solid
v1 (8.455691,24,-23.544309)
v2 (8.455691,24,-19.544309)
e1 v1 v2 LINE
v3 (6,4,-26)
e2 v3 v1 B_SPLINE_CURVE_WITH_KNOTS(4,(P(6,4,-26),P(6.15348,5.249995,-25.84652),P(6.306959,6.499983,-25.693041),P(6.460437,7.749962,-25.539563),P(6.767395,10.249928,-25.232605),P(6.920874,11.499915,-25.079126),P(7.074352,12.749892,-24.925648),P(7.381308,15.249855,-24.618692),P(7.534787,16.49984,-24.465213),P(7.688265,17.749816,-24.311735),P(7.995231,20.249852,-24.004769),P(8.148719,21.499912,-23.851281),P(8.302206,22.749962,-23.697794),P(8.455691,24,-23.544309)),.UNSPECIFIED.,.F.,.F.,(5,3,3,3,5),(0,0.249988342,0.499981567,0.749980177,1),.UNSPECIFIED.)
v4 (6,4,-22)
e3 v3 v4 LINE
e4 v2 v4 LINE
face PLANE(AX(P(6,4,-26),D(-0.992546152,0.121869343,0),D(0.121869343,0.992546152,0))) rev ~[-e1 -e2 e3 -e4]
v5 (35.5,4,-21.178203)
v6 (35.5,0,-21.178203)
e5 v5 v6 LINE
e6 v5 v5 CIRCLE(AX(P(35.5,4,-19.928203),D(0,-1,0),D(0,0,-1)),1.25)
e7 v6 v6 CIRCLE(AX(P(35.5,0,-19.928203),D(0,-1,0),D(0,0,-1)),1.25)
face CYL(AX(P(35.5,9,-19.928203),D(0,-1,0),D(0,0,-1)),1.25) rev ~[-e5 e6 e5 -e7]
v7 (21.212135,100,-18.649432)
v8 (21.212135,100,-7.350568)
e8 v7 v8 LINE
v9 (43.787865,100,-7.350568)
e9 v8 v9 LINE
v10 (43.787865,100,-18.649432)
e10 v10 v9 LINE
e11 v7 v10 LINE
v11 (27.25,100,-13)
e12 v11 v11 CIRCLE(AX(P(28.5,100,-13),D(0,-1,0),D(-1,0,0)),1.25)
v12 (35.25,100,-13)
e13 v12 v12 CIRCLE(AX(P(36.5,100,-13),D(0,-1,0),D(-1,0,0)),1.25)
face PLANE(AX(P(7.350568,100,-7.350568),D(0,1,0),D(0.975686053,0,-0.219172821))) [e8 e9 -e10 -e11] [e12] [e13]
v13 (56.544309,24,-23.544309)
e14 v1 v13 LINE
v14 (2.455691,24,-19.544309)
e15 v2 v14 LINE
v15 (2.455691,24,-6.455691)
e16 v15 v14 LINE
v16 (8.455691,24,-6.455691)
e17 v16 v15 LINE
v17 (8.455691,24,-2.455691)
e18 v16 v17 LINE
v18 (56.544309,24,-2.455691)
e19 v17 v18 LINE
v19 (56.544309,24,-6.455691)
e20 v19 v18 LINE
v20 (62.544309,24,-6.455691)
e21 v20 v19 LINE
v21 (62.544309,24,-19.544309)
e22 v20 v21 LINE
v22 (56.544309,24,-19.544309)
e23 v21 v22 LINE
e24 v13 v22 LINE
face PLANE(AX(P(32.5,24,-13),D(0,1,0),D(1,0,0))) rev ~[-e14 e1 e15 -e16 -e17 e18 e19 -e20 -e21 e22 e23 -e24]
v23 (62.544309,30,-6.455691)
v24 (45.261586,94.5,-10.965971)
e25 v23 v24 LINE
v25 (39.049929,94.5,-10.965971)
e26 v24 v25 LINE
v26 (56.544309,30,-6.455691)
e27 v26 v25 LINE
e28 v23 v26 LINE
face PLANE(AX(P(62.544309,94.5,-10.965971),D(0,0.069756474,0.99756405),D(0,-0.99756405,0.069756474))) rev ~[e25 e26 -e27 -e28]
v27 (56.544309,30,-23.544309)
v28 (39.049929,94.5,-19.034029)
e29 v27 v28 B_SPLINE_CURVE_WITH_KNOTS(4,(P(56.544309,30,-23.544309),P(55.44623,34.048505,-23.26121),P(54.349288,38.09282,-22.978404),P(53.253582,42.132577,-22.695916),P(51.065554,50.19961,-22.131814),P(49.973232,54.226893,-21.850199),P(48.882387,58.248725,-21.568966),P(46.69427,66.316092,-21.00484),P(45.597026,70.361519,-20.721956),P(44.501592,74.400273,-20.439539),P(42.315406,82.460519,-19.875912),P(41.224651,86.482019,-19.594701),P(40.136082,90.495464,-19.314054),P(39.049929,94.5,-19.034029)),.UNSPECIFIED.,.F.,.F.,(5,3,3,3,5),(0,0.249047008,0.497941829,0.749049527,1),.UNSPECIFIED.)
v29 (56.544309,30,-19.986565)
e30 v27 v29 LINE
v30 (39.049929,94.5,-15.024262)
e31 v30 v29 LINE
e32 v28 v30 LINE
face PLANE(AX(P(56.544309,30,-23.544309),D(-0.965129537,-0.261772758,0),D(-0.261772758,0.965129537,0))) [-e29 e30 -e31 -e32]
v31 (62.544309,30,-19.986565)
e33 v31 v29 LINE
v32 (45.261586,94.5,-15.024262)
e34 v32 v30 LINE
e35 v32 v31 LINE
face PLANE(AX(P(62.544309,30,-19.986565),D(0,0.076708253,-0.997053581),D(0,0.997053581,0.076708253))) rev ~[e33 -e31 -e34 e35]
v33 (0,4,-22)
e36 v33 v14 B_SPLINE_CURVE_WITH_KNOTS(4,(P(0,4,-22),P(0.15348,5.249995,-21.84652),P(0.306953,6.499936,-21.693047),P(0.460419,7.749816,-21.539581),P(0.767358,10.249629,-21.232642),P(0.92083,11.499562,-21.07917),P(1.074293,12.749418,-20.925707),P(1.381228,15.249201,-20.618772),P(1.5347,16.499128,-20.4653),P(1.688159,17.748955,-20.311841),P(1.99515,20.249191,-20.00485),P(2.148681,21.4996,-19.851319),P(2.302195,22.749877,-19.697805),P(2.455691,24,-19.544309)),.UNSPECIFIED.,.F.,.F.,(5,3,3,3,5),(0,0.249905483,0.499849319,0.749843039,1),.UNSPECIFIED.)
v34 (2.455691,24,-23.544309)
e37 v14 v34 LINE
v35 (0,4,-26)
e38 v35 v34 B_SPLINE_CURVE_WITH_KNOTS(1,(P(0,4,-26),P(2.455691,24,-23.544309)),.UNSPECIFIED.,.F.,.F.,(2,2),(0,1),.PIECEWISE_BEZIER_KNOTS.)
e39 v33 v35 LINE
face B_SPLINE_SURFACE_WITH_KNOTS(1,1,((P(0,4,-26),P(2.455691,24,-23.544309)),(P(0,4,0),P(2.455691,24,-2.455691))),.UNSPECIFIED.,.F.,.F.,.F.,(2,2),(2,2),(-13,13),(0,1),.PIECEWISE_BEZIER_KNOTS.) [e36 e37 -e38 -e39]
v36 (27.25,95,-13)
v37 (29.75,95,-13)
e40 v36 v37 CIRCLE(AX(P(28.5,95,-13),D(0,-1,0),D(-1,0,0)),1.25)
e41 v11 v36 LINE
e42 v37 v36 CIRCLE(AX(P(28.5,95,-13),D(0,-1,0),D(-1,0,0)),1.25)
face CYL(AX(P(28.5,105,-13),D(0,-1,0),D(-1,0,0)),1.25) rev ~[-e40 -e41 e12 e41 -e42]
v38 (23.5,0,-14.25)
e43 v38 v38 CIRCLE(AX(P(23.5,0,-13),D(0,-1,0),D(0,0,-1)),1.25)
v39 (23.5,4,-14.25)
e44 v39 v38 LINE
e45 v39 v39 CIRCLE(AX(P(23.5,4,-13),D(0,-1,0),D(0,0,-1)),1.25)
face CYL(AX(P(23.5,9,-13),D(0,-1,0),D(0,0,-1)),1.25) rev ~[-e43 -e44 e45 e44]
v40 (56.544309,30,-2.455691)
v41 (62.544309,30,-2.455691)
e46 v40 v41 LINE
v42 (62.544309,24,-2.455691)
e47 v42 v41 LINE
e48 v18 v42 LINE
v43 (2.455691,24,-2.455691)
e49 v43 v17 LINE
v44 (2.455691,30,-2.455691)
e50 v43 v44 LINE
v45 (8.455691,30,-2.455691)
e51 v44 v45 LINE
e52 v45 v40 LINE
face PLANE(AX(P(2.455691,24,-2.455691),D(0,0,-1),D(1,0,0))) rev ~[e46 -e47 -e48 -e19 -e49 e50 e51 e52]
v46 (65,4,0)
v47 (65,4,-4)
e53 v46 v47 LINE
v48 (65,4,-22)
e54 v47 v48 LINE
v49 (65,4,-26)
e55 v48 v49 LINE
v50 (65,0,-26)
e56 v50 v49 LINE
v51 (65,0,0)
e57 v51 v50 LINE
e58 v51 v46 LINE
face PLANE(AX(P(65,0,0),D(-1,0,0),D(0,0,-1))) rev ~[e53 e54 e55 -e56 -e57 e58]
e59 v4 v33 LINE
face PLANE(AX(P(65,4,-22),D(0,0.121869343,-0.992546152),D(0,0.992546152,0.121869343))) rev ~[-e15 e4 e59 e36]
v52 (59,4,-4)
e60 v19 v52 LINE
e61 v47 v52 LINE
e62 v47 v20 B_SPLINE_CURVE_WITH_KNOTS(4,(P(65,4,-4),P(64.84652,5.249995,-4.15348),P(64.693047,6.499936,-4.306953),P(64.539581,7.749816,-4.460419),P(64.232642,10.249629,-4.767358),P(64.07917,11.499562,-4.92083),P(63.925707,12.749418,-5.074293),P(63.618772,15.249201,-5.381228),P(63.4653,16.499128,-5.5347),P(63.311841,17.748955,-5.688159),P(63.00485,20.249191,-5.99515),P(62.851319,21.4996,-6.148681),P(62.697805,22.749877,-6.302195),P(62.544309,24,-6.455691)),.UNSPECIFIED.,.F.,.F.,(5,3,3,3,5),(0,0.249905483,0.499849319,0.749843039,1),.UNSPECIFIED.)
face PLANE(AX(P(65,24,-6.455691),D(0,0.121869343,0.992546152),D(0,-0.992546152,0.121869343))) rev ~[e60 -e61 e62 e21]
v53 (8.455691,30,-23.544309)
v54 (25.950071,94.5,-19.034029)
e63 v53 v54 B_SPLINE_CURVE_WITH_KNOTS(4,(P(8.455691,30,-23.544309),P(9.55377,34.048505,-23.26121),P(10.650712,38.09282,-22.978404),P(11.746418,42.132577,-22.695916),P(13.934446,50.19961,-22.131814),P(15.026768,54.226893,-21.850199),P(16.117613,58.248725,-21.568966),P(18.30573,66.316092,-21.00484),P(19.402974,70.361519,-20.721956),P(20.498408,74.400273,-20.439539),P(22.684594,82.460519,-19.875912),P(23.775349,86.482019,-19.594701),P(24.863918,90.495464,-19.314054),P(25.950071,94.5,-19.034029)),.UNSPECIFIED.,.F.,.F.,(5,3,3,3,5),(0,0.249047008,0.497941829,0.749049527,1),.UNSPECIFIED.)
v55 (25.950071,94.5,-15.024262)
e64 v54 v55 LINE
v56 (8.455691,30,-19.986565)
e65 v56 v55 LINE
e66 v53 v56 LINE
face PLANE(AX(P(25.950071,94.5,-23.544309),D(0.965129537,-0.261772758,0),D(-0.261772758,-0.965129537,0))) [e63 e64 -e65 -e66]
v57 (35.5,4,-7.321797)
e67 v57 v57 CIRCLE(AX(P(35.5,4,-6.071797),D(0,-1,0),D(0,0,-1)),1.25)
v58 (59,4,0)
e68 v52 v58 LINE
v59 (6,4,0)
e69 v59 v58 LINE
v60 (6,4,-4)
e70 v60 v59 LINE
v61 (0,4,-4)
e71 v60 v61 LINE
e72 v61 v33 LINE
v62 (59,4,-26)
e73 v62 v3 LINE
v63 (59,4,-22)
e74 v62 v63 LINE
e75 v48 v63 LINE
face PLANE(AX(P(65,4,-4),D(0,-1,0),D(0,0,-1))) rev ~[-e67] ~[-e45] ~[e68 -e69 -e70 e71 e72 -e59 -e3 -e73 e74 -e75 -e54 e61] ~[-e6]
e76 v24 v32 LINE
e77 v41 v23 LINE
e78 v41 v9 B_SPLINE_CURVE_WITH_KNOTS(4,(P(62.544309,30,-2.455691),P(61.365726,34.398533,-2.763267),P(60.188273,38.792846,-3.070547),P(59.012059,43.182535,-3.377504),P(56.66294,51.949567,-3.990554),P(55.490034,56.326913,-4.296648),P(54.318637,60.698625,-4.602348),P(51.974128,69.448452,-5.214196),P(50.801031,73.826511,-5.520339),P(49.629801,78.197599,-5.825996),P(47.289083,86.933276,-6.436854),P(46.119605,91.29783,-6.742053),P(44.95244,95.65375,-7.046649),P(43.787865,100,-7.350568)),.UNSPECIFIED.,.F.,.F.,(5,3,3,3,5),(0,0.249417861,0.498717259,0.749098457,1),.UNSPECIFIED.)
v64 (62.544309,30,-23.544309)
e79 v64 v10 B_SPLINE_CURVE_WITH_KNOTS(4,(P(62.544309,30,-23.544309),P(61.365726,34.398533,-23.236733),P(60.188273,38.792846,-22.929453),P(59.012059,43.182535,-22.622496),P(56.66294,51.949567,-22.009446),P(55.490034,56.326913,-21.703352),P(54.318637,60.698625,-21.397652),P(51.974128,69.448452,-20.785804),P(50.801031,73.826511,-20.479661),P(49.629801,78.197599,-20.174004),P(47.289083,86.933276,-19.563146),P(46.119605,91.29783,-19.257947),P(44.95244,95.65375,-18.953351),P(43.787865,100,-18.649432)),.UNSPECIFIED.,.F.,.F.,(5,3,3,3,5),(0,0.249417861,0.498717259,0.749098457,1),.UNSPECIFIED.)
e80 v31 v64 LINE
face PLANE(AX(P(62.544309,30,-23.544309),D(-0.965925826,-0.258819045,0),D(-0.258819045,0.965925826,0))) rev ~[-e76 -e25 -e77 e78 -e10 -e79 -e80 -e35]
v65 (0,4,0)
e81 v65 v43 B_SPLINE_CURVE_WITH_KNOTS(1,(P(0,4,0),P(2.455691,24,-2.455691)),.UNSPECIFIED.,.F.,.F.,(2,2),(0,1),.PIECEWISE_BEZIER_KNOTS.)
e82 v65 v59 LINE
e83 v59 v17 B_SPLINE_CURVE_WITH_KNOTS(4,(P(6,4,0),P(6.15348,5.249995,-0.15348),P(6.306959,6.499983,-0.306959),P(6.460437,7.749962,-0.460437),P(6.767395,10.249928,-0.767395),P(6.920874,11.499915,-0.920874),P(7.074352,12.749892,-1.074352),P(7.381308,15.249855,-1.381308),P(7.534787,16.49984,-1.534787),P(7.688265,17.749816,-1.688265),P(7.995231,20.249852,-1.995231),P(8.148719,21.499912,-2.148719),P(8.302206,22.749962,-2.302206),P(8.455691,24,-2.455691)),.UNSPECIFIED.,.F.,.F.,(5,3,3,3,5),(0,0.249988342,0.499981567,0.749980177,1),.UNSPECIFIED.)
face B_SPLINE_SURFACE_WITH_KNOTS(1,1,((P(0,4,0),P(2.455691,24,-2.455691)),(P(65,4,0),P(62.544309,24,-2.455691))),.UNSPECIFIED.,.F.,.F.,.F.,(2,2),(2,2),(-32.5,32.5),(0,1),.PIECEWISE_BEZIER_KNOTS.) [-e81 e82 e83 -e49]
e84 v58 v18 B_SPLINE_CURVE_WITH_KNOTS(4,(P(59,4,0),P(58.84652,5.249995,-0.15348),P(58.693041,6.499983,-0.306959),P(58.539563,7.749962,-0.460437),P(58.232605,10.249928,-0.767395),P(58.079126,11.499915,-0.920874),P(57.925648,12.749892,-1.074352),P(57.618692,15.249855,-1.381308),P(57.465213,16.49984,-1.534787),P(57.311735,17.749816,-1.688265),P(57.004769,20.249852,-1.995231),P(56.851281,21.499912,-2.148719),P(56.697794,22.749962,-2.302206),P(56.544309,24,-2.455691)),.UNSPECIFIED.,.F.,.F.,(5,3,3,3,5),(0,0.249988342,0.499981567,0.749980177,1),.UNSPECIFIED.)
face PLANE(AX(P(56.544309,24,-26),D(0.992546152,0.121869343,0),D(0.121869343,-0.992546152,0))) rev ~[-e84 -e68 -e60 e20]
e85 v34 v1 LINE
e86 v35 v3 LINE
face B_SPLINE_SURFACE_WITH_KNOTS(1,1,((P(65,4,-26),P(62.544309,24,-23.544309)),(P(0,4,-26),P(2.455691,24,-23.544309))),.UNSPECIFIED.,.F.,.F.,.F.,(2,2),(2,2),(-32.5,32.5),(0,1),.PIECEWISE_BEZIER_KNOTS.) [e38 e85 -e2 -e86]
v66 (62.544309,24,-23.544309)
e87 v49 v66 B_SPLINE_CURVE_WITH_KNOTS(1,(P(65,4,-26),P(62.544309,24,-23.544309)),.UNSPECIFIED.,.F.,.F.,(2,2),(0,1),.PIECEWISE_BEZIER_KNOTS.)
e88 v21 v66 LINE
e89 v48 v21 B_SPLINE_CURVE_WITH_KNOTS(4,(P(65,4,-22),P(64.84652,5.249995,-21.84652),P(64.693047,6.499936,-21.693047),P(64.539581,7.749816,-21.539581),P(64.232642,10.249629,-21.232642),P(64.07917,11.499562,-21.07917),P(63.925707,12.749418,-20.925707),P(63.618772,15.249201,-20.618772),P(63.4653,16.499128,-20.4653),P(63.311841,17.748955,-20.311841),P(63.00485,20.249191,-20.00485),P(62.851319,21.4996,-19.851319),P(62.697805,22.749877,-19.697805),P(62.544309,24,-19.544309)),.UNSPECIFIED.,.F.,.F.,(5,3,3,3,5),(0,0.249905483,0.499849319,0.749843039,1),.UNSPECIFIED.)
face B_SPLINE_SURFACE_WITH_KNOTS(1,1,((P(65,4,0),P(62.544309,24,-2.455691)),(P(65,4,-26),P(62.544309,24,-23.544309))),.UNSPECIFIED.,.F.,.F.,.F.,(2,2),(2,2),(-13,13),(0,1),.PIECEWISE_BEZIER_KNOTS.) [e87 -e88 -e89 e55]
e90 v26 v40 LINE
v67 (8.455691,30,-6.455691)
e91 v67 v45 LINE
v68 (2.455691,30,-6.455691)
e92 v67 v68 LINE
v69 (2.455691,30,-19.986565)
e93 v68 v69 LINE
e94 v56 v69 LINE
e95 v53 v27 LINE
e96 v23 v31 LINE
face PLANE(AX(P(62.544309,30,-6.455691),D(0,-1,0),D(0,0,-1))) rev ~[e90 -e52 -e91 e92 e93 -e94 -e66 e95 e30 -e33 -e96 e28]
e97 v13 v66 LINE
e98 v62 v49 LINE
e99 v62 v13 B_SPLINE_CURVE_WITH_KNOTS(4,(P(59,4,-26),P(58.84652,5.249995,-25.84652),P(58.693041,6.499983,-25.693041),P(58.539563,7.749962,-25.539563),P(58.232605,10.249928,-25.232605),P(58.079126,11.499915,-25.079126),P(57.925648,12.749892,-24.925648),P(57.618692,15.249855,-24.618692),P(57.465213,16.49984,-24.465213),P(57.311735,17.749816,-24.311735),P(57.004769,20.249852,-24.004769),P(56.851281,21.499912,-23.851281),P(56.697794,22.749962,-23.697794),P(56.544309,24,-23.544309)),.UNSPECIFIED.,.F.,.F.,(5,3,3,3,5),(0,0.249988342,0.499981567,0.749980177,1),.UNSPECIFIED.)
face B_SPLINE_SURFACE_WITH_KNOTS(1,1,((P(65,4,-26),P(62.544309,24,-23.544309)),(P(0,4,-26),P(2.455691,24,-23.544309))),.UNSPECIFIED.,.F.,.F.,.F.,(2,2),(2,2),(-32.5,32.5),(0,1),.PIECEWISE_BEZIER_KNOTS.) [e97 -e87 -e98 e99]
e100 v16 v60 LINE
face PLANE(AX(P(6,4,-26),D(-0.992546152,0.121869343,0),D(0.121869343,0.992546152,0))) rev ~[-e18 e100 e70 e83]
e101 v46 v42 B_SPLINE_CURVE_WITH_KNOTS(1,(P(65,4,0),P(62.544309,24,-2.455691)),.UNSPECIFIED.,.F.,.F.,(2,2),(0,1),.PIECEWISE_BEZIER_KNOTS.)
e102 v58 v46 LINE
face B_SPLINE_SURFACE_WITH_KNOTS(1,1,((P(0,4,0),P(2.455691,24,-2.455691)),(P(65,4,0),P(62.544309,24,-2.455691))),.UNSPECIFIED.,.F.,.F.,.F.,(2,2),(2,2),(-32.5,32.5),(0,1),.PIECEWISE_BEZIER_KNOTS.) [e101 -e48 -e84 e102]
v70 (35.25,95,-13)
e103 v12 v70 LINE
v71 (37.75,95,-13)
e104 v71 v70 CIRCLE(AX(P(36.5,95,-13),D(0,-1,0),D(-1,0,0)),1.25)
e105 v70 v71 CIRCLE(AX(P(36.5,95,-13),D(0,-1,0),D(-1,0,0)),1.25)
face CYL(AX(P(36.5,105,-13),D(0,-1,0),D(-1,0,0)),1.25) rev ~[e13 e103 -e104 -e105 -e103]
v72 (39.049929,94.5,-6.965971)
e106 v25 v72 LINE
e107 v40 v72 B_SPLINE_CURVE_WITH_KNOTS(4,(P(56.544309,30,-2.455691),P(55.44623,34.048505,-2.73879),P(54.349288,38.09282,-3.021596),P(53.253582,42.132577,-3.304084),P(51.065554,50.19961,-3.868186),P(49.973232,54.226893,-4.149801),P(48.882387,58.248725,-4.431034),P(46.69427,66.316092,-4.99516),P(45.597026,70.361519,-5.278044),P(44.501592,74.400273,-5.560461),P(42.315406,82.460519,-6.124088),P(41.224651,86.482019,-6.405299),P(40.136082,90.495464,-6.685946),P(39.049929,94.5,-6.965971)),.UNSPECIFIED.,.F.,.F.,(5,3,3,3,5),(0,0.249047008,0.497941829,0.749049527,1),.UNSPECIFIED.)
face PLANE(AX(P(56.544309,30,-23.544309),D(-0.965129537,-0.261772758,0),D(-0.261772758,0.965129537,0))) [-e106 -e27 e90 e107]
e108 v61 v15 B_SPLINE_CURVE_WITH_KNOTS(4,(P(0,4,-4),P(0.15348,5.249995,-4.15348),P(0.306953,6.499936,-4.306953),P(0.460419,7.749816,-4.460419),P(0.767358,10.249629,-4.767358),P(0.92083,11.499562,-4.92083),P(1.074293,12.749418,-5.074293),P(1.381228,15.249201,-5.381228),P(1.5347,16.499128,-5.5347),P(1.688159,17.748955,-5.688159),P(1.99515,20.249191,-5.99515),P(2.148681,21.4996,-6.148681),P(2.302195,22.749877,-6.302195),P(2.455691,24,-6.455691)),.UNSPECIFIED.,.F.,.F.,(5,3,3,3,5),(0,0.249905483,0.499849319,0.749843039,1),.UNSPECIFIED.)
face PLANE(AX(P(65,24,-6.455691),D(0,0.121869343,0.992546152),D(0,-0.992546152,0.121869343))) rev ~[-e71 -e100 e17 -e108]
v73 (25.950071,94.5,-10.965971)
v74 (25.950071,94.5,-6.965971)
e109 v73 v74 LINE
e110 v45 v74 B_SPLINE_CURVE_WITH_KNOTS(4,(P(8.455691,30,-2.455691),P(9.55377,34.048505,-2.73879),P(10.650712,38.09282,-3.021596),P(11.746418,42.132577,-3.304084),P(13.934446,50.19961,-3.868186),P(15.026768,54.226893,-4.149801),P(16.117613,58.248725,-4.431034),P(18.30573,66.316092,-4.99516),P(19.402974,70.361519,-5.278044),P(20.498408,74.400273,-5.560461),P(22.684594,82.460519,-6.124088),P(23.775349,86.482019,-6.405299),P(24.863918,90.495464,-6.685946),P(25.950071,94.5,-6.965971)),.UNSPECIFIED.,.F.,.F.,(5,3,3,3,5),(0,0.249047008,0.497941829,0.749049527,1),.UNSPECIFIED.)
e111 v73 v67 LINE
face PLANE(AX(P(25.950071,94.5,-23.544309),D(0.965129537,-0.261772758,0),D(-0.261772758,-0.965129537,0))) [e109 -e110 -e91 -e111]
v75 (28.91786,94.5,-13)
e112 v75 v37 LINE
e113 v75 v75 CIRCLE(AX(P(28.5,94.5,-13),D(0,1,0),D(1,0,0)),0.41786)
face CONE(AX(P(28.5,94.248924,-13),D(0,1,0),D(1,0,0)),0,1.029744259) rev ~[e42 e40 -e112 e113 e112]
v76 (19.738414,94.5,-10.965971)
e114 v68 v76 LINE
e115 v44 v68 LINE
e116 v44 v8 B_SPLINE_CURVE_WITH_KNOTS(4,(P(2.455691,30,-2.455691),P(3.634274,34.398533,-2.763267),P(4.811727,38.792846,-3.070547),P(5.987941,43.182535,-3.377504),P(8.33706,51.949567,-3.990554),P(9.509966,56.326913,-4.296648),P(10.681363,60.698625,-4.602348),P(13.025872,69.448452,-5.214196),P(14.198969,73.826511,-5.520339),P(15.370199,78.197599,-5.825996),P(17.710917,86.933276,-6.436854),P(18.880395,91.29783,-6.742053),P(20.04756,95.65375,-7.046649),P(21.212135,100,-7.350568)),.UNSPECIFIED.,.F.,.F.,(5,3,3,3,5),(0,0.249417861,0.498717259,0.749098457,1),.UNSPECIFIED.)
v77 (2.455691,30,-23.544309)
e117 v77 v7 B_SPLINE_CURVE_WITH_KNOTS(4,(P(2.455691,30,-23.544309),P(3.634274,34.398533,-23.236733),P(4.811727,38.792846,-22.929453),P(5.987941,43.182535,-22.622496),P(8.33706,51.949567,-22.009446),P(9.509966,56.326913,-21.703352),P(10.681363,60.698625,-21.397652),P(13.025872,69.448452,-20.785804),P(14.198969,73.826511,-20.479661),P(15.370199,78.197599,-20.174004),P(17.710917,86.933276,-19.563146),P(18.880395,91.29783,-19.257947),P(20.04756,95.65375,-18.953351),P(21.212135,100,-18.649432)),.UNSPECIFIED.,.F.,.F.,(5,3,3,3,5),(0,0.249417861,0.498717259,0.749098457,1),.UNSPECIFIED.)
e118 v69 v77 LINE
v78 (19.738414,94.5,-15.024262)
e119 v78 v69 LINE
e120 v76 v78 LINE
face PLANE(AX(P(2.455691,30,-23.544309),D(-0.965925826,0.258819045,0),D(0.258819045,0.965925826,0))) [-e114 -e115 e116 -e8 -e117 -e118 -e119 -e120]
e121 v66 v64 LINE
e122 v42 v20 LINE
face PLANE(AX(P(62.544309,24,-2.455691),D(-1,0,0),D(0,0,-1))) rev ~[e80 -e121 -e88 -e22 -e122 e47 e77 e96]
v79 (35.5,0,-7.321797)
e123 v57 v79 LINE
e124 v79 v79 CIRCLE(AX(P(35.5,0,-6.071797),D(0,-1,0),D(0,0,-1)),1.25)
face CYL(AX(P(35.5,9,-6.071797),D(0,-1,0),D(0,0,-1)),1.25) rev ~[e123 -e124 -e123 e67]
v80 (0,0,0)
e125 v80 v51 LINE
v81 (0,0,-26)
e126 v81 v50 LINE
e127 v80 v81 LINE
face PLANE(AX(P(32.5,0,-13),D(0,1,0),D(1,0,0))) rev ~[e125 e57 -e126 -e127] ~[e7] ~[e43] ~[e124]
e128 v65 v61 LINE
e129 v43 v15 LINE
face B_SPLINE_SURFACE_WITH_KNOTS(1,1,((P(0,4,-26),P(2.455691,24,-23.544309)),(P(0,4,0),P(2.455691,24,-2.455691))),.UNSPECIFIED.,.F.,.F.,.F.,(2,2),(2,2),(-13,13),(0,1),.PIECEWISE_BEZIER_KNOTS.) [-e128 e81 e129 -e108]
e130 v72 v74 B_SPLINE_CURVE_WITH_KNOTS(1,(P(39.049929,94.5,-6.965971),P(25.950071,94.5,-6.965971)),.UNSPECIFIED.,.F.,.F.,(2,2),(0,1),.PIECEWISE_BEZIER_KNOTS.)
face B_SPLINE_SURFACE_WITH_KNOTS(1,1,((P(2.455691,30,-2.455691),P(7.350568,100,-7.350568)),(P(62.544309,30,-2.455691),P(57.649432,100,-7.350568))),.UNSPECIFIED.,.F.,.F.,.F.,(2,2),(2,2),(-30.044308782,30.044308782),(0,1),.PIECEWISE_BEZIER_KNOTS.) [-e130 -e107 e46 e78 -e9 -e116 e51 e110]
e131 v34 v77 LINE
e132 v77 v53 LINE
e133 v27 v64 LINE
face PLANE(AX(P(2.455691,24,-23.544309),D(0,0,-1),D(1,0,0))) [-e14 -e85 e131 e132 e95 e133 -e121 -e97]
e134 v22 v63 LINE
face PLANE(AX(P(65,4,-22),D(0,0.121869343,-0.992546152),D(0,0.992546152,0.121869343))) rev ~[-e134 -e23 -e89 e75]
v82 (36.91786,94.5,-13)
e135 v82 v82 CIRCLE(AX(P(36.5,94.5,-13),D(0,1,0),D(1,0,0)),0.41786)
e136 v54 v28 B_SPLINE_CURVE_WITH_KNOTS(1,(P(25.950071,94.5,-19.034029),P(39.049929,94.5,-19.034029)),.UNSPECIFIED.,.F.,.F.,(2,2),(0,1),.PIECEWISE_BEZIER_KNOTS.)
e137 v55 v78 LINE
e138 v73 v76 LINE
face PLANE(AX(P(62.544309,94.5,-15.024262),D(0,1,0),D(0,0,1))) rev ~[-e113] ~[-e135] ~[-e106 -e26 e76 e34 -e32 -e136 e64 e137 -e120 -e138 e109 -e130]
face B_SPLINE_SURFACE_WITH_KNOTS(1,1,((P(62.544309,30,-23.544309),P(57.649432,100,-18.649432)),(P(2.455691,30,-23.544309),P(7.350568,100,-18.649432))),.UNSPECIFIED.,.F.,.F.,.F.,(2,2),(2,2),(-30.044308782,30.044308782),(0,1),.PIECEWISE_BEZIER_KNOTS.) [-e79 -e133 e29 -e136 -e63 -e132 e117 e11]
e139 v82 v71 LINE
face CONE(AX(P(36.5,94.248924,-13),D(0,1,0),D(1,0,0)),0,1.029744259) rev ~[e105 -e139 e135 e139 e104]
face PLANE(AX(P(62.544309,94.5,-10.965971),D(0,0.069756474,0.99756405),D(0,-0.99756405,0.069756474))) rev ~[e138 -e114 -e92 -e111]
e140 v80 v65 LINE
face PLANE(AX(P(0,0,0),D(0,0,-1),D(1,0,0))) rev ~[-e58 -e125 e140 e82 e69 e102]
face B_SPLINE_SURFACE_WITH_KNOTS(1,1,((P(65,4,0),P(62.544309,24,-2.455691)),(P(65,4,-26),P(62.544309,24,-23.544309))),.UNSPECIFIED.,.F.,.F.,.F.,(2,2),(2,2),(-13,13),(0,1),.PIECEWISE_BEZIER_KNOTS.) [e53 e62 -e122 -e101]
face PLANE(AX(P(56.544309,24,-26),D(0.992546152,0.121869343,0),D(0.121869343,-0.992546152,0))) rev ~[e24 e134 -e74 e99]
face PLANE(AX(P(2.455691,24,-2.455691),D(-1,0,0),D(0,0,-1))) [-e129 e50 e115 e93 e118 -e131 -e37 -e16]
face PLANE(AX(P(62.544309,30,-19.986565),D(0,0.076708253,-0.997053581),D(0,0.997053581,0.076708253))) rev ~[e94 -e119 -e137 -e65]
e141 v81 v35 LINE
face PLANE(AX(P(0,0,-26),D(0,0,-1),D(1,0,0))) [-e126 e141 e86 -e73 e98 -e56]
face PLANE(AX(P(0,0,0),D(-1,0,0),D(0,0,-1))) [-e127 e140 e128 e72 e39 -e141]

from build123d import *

# Parameters (mm, degrees)
SKETCH1_W                 = 65
SKETCH1_H                 = 26
BOSS_EXTRUDE1_DEPTH       = 4
F_2_5MM_DOWEL_HOLE1_D     = 2.5
F_2_5MM_DOWEL_HOLE1_DEPTH = 5
F_2_5MM_DOWEL_HOLE1_TIP   = 0.751075774
SKETCH6_W                 = 65
SKETCH6_H                 = 26
BOSS_EXTRUDE2_DEPTH       = 20
BOSS_EXTRUDE2_TAPER       = 7
SKETCH7_W                 = 48.088617564
SKETCH7_H                 = 13.088617564
CUT_EXTRUDE1_DEPTH        = 20
CUT_EXTRUDE1_DRAFT        = 7
CUT_EXTRUDE3_DEPTH        = 33
CUT_EXTRUDE4_DEPTH        = 70
SKETCH11_W                = 60.088617564
SKETCH11_H                = 21.088617564
BOSS_EXTRUDE3_DEPTH       = 6
SKETCH12_W                = 60.088617564
SKETCH12_H                = 21.088617564
BOSS_EXTRUDE5_DEPTH       = 70
BOSS_EXTRUDE5_TAPER       = 4
CUT_EXTRUDE5_DEPTH        = 55
CUT_EXTRUDE6_DEPTH        = 67
F_2_5MM_DOWEL_HOLE2_D     = 2.5
F_2_5MM_DOWEL_HOLE2_DEPTH = 5
F_2_5MM_DOWEL_HOLE2_TIP   = 0.751075774


with BuildPart() as part:
    # Sketch1 → Boss-Extrude1 (new body)
    with BuildSketch(Plane(origin=(0, 0, 0), x_dir=(1, 0, 0), z_dir=(0, 1, 0))):
        with Locations((32.5, 13)):
            Rectangle(SKETCH1_W, SKETCH1_H)
    extrude(amount=BOSS_EXTRUDE1_DEPTH)

    # Ø2.5mm Dowel Hole1
    with Locations(Plane(origin=(23.5, 4, -13), x_dir=(0, 0, 1), z_dir=(0, 1, 0))):
        with Locations((0, 0), (-6.92820323, 12), (6.92820323, 12)):
            Hole(F_2_5MM_DOWEL_HOLE1_D / 2, depth=F_2_5MM_DOWEL_HOLE1_DEPTH)
            with Locations((0, 0, -(F_2_5MM_DOWEL_HOLE1_DEPTH + F_2_5MM_DOWEL_HOLE1_TIP / 2))):  # 118° drill point
                Cone(0, F_2_5MM_DOWEL_HOLE1_D / 2, F_2_5MM_DOWEL_HOLE1_TIP, mode=Mode.SUBTRACT)

    # Sketch6 → Boss-Extrude2 (add)
    with BuildSketch(Plane(origin=(0, 4, 0), x_dir=(1, 0, 0), z_dir=(0, 1, 0))):
        with Locations((32.5, 13)):
            Rectangle(SKETCH6_W, SKETCH6_H)
    extrude(amount=BOSS_EXTRUDE2_DEPTH, taper=BOSS_EXTRUDE2_TAPER)


with BuildPart() as cut_extrude1_tool:
    # Sketch7 → Cut-Extrude1 (with draft: the straight prism first)
    with BuildSketch(Plane(origin=(0, 24, 0), x_dir=(1, 0, 0), z_dir=(0, 1, 0))):
        with Locations((32.5, 13)):
            Rectangle(SKETCH7_W, SKETCH7_H)
    extrude(amount=-CUT_EXTRUDE1_DEPTH)
    # Cut-Extrude1: the draft: its side faces are tilted about the plane it starts from
    cut_extrude1_sides = [cut_extrude1_tool.faces().sort_by_distance(p)[0] for p in [
        (8.455691218, 14, -13),
        (32.5, 14, -6.455691218),
        (56.544308782, 14, -13),
        (32.5, 14, -19.544308782),
    ]]
    draft(cut_extrude1_sides, Plane(origin=(0, 24, 0), x_dir=(1, 0, 0), z_dir=(0, 1, 0)), CUT_EXTRUDE1_DRAFT)


with BuildPart() as part_1:
    add(part.part)

    # Cut-Extrude1: cut by cut_extrude1_tool
    add(cut_extrude1_tool.part, mode=Mode.SUBTRACT)

    # Sketch9 → Cut-Extrude3 (cut)
    with BuildSketch(Plane(origin=(0, 0, -26), x_dir=(-1, 0, 0), z_dir=(0, 0, -1))):
        Polygon((-59, 4), (-6, 4), (-8.455691218, 24), (-56.544308782, 24), align=None)
    extrude(amount=-CUT_EXTRUDE3_DEPTH, mode=Mode.SUBTRACT)

    # Sketch10 → Cut-Extrude4 (cut)
    with BuildSketch(Plane(origin=(65, 0, 0), x_dir=(0, 0, -1), z_dir=(1, 0, 0))):
        Polygon((4, 4), (22, 4), (19.544308782, 24), (6.455691218, 24), align=None)
    extrude(amount=-CUT_EXTRUDE4_DEPTH, mode=Mode.SUBTRACT)

    # Sketch11 → Boss-Extrude3 (add)
    with BuildSketch(Plane(origin=(0, 24, 0), x_dir=(1, 0, 0), z_dir=(0, 1, 0))):
        with Locations((32.5, 13)):
            Rectangle(SKETCH11_W, SKETCH11_H)
    extrude(amount=BOSS_EXTRUDE3_DEPTH)

    # Sketch12 → Boss-Extrude5 (add)
    with BuildSketch(Plane(origin=(0, 30, 0), x_dir=(1, 0, 0), z_dir=(0, 1, 0))):
        with Locations((32.5, 13)):
            Rectangle(SKETCH12_W, SKETCH12_H)
    extrude(amount=BOSS_EXTRUDE5_DEPTH, taper=BOSS_EXTRUDE5_TAPER)

    # Sketch13 → Cut-Extrude5 (cut)
    with BuildSketch(Plane(origin=(0, 0, -23.544308782), x_dir=(-1, 0, 0), z_dir=(0, 0, -1))):
        Polygon((-62.544308782, 30), (-43.787865312, 100), (-62.544308782, 100), align=None)
        Polygon((-2.455691218, 30), (-21.212134688, 100), (-2.455691218, 100), align=None)
        Polygon((-39.049928788, 94.5), (-25.950071212, 94.5), (-8.455691218, 30), (-56.544308782, 30), align=None)
    extrude(amount=-CUT_EXTRUDE5_DEPTH, mode=Mode.SUBTRACT)

    # Sketch14 → Cut-Extrude6 (cut)
    with BuildSketch(Plane(origin=(62.544308782, 0, 0), x_dir=(0, 0, -1), z_dir=(1, 0, 0))):
        Polygon((6.455691218, 30), (19.986565131, 30), (15.024261819, 94.5), (10.965970588, 94.5), align=None)
    extrude(amount=-CUT_EXTRUDE6_DEPTH, mode=Mode.SUBTRACT)

    # Ø2.5mm Dowel Hole2
    with Locations(Plane(origin=(0, 100, 0), x_dir=(1, 0, 0), z_dir=(0, 1, 0))):
        with Locations((28.5, 13), (36.5, 13)):
            Hole(F_2_5MM_DOWEL_HOLE2_D / 2, depth=F_2_5MM_DOWEL_HOLE2_DEPTH)
            with Locations((0, 0, -(F_2_5MM_DOWEL_HOLE2_DEPTH + F_2_5MM_DOWEL_HOLE2_TIP / 2))):  # 118° drill point
                Cone(0, F_2_5MM_DOWEL_HOLE2_D / 2, F_2_5MM_DOWEL_HOLE2_TIP, mode=Mode.SUBTRACT)


solid = part_1.part
